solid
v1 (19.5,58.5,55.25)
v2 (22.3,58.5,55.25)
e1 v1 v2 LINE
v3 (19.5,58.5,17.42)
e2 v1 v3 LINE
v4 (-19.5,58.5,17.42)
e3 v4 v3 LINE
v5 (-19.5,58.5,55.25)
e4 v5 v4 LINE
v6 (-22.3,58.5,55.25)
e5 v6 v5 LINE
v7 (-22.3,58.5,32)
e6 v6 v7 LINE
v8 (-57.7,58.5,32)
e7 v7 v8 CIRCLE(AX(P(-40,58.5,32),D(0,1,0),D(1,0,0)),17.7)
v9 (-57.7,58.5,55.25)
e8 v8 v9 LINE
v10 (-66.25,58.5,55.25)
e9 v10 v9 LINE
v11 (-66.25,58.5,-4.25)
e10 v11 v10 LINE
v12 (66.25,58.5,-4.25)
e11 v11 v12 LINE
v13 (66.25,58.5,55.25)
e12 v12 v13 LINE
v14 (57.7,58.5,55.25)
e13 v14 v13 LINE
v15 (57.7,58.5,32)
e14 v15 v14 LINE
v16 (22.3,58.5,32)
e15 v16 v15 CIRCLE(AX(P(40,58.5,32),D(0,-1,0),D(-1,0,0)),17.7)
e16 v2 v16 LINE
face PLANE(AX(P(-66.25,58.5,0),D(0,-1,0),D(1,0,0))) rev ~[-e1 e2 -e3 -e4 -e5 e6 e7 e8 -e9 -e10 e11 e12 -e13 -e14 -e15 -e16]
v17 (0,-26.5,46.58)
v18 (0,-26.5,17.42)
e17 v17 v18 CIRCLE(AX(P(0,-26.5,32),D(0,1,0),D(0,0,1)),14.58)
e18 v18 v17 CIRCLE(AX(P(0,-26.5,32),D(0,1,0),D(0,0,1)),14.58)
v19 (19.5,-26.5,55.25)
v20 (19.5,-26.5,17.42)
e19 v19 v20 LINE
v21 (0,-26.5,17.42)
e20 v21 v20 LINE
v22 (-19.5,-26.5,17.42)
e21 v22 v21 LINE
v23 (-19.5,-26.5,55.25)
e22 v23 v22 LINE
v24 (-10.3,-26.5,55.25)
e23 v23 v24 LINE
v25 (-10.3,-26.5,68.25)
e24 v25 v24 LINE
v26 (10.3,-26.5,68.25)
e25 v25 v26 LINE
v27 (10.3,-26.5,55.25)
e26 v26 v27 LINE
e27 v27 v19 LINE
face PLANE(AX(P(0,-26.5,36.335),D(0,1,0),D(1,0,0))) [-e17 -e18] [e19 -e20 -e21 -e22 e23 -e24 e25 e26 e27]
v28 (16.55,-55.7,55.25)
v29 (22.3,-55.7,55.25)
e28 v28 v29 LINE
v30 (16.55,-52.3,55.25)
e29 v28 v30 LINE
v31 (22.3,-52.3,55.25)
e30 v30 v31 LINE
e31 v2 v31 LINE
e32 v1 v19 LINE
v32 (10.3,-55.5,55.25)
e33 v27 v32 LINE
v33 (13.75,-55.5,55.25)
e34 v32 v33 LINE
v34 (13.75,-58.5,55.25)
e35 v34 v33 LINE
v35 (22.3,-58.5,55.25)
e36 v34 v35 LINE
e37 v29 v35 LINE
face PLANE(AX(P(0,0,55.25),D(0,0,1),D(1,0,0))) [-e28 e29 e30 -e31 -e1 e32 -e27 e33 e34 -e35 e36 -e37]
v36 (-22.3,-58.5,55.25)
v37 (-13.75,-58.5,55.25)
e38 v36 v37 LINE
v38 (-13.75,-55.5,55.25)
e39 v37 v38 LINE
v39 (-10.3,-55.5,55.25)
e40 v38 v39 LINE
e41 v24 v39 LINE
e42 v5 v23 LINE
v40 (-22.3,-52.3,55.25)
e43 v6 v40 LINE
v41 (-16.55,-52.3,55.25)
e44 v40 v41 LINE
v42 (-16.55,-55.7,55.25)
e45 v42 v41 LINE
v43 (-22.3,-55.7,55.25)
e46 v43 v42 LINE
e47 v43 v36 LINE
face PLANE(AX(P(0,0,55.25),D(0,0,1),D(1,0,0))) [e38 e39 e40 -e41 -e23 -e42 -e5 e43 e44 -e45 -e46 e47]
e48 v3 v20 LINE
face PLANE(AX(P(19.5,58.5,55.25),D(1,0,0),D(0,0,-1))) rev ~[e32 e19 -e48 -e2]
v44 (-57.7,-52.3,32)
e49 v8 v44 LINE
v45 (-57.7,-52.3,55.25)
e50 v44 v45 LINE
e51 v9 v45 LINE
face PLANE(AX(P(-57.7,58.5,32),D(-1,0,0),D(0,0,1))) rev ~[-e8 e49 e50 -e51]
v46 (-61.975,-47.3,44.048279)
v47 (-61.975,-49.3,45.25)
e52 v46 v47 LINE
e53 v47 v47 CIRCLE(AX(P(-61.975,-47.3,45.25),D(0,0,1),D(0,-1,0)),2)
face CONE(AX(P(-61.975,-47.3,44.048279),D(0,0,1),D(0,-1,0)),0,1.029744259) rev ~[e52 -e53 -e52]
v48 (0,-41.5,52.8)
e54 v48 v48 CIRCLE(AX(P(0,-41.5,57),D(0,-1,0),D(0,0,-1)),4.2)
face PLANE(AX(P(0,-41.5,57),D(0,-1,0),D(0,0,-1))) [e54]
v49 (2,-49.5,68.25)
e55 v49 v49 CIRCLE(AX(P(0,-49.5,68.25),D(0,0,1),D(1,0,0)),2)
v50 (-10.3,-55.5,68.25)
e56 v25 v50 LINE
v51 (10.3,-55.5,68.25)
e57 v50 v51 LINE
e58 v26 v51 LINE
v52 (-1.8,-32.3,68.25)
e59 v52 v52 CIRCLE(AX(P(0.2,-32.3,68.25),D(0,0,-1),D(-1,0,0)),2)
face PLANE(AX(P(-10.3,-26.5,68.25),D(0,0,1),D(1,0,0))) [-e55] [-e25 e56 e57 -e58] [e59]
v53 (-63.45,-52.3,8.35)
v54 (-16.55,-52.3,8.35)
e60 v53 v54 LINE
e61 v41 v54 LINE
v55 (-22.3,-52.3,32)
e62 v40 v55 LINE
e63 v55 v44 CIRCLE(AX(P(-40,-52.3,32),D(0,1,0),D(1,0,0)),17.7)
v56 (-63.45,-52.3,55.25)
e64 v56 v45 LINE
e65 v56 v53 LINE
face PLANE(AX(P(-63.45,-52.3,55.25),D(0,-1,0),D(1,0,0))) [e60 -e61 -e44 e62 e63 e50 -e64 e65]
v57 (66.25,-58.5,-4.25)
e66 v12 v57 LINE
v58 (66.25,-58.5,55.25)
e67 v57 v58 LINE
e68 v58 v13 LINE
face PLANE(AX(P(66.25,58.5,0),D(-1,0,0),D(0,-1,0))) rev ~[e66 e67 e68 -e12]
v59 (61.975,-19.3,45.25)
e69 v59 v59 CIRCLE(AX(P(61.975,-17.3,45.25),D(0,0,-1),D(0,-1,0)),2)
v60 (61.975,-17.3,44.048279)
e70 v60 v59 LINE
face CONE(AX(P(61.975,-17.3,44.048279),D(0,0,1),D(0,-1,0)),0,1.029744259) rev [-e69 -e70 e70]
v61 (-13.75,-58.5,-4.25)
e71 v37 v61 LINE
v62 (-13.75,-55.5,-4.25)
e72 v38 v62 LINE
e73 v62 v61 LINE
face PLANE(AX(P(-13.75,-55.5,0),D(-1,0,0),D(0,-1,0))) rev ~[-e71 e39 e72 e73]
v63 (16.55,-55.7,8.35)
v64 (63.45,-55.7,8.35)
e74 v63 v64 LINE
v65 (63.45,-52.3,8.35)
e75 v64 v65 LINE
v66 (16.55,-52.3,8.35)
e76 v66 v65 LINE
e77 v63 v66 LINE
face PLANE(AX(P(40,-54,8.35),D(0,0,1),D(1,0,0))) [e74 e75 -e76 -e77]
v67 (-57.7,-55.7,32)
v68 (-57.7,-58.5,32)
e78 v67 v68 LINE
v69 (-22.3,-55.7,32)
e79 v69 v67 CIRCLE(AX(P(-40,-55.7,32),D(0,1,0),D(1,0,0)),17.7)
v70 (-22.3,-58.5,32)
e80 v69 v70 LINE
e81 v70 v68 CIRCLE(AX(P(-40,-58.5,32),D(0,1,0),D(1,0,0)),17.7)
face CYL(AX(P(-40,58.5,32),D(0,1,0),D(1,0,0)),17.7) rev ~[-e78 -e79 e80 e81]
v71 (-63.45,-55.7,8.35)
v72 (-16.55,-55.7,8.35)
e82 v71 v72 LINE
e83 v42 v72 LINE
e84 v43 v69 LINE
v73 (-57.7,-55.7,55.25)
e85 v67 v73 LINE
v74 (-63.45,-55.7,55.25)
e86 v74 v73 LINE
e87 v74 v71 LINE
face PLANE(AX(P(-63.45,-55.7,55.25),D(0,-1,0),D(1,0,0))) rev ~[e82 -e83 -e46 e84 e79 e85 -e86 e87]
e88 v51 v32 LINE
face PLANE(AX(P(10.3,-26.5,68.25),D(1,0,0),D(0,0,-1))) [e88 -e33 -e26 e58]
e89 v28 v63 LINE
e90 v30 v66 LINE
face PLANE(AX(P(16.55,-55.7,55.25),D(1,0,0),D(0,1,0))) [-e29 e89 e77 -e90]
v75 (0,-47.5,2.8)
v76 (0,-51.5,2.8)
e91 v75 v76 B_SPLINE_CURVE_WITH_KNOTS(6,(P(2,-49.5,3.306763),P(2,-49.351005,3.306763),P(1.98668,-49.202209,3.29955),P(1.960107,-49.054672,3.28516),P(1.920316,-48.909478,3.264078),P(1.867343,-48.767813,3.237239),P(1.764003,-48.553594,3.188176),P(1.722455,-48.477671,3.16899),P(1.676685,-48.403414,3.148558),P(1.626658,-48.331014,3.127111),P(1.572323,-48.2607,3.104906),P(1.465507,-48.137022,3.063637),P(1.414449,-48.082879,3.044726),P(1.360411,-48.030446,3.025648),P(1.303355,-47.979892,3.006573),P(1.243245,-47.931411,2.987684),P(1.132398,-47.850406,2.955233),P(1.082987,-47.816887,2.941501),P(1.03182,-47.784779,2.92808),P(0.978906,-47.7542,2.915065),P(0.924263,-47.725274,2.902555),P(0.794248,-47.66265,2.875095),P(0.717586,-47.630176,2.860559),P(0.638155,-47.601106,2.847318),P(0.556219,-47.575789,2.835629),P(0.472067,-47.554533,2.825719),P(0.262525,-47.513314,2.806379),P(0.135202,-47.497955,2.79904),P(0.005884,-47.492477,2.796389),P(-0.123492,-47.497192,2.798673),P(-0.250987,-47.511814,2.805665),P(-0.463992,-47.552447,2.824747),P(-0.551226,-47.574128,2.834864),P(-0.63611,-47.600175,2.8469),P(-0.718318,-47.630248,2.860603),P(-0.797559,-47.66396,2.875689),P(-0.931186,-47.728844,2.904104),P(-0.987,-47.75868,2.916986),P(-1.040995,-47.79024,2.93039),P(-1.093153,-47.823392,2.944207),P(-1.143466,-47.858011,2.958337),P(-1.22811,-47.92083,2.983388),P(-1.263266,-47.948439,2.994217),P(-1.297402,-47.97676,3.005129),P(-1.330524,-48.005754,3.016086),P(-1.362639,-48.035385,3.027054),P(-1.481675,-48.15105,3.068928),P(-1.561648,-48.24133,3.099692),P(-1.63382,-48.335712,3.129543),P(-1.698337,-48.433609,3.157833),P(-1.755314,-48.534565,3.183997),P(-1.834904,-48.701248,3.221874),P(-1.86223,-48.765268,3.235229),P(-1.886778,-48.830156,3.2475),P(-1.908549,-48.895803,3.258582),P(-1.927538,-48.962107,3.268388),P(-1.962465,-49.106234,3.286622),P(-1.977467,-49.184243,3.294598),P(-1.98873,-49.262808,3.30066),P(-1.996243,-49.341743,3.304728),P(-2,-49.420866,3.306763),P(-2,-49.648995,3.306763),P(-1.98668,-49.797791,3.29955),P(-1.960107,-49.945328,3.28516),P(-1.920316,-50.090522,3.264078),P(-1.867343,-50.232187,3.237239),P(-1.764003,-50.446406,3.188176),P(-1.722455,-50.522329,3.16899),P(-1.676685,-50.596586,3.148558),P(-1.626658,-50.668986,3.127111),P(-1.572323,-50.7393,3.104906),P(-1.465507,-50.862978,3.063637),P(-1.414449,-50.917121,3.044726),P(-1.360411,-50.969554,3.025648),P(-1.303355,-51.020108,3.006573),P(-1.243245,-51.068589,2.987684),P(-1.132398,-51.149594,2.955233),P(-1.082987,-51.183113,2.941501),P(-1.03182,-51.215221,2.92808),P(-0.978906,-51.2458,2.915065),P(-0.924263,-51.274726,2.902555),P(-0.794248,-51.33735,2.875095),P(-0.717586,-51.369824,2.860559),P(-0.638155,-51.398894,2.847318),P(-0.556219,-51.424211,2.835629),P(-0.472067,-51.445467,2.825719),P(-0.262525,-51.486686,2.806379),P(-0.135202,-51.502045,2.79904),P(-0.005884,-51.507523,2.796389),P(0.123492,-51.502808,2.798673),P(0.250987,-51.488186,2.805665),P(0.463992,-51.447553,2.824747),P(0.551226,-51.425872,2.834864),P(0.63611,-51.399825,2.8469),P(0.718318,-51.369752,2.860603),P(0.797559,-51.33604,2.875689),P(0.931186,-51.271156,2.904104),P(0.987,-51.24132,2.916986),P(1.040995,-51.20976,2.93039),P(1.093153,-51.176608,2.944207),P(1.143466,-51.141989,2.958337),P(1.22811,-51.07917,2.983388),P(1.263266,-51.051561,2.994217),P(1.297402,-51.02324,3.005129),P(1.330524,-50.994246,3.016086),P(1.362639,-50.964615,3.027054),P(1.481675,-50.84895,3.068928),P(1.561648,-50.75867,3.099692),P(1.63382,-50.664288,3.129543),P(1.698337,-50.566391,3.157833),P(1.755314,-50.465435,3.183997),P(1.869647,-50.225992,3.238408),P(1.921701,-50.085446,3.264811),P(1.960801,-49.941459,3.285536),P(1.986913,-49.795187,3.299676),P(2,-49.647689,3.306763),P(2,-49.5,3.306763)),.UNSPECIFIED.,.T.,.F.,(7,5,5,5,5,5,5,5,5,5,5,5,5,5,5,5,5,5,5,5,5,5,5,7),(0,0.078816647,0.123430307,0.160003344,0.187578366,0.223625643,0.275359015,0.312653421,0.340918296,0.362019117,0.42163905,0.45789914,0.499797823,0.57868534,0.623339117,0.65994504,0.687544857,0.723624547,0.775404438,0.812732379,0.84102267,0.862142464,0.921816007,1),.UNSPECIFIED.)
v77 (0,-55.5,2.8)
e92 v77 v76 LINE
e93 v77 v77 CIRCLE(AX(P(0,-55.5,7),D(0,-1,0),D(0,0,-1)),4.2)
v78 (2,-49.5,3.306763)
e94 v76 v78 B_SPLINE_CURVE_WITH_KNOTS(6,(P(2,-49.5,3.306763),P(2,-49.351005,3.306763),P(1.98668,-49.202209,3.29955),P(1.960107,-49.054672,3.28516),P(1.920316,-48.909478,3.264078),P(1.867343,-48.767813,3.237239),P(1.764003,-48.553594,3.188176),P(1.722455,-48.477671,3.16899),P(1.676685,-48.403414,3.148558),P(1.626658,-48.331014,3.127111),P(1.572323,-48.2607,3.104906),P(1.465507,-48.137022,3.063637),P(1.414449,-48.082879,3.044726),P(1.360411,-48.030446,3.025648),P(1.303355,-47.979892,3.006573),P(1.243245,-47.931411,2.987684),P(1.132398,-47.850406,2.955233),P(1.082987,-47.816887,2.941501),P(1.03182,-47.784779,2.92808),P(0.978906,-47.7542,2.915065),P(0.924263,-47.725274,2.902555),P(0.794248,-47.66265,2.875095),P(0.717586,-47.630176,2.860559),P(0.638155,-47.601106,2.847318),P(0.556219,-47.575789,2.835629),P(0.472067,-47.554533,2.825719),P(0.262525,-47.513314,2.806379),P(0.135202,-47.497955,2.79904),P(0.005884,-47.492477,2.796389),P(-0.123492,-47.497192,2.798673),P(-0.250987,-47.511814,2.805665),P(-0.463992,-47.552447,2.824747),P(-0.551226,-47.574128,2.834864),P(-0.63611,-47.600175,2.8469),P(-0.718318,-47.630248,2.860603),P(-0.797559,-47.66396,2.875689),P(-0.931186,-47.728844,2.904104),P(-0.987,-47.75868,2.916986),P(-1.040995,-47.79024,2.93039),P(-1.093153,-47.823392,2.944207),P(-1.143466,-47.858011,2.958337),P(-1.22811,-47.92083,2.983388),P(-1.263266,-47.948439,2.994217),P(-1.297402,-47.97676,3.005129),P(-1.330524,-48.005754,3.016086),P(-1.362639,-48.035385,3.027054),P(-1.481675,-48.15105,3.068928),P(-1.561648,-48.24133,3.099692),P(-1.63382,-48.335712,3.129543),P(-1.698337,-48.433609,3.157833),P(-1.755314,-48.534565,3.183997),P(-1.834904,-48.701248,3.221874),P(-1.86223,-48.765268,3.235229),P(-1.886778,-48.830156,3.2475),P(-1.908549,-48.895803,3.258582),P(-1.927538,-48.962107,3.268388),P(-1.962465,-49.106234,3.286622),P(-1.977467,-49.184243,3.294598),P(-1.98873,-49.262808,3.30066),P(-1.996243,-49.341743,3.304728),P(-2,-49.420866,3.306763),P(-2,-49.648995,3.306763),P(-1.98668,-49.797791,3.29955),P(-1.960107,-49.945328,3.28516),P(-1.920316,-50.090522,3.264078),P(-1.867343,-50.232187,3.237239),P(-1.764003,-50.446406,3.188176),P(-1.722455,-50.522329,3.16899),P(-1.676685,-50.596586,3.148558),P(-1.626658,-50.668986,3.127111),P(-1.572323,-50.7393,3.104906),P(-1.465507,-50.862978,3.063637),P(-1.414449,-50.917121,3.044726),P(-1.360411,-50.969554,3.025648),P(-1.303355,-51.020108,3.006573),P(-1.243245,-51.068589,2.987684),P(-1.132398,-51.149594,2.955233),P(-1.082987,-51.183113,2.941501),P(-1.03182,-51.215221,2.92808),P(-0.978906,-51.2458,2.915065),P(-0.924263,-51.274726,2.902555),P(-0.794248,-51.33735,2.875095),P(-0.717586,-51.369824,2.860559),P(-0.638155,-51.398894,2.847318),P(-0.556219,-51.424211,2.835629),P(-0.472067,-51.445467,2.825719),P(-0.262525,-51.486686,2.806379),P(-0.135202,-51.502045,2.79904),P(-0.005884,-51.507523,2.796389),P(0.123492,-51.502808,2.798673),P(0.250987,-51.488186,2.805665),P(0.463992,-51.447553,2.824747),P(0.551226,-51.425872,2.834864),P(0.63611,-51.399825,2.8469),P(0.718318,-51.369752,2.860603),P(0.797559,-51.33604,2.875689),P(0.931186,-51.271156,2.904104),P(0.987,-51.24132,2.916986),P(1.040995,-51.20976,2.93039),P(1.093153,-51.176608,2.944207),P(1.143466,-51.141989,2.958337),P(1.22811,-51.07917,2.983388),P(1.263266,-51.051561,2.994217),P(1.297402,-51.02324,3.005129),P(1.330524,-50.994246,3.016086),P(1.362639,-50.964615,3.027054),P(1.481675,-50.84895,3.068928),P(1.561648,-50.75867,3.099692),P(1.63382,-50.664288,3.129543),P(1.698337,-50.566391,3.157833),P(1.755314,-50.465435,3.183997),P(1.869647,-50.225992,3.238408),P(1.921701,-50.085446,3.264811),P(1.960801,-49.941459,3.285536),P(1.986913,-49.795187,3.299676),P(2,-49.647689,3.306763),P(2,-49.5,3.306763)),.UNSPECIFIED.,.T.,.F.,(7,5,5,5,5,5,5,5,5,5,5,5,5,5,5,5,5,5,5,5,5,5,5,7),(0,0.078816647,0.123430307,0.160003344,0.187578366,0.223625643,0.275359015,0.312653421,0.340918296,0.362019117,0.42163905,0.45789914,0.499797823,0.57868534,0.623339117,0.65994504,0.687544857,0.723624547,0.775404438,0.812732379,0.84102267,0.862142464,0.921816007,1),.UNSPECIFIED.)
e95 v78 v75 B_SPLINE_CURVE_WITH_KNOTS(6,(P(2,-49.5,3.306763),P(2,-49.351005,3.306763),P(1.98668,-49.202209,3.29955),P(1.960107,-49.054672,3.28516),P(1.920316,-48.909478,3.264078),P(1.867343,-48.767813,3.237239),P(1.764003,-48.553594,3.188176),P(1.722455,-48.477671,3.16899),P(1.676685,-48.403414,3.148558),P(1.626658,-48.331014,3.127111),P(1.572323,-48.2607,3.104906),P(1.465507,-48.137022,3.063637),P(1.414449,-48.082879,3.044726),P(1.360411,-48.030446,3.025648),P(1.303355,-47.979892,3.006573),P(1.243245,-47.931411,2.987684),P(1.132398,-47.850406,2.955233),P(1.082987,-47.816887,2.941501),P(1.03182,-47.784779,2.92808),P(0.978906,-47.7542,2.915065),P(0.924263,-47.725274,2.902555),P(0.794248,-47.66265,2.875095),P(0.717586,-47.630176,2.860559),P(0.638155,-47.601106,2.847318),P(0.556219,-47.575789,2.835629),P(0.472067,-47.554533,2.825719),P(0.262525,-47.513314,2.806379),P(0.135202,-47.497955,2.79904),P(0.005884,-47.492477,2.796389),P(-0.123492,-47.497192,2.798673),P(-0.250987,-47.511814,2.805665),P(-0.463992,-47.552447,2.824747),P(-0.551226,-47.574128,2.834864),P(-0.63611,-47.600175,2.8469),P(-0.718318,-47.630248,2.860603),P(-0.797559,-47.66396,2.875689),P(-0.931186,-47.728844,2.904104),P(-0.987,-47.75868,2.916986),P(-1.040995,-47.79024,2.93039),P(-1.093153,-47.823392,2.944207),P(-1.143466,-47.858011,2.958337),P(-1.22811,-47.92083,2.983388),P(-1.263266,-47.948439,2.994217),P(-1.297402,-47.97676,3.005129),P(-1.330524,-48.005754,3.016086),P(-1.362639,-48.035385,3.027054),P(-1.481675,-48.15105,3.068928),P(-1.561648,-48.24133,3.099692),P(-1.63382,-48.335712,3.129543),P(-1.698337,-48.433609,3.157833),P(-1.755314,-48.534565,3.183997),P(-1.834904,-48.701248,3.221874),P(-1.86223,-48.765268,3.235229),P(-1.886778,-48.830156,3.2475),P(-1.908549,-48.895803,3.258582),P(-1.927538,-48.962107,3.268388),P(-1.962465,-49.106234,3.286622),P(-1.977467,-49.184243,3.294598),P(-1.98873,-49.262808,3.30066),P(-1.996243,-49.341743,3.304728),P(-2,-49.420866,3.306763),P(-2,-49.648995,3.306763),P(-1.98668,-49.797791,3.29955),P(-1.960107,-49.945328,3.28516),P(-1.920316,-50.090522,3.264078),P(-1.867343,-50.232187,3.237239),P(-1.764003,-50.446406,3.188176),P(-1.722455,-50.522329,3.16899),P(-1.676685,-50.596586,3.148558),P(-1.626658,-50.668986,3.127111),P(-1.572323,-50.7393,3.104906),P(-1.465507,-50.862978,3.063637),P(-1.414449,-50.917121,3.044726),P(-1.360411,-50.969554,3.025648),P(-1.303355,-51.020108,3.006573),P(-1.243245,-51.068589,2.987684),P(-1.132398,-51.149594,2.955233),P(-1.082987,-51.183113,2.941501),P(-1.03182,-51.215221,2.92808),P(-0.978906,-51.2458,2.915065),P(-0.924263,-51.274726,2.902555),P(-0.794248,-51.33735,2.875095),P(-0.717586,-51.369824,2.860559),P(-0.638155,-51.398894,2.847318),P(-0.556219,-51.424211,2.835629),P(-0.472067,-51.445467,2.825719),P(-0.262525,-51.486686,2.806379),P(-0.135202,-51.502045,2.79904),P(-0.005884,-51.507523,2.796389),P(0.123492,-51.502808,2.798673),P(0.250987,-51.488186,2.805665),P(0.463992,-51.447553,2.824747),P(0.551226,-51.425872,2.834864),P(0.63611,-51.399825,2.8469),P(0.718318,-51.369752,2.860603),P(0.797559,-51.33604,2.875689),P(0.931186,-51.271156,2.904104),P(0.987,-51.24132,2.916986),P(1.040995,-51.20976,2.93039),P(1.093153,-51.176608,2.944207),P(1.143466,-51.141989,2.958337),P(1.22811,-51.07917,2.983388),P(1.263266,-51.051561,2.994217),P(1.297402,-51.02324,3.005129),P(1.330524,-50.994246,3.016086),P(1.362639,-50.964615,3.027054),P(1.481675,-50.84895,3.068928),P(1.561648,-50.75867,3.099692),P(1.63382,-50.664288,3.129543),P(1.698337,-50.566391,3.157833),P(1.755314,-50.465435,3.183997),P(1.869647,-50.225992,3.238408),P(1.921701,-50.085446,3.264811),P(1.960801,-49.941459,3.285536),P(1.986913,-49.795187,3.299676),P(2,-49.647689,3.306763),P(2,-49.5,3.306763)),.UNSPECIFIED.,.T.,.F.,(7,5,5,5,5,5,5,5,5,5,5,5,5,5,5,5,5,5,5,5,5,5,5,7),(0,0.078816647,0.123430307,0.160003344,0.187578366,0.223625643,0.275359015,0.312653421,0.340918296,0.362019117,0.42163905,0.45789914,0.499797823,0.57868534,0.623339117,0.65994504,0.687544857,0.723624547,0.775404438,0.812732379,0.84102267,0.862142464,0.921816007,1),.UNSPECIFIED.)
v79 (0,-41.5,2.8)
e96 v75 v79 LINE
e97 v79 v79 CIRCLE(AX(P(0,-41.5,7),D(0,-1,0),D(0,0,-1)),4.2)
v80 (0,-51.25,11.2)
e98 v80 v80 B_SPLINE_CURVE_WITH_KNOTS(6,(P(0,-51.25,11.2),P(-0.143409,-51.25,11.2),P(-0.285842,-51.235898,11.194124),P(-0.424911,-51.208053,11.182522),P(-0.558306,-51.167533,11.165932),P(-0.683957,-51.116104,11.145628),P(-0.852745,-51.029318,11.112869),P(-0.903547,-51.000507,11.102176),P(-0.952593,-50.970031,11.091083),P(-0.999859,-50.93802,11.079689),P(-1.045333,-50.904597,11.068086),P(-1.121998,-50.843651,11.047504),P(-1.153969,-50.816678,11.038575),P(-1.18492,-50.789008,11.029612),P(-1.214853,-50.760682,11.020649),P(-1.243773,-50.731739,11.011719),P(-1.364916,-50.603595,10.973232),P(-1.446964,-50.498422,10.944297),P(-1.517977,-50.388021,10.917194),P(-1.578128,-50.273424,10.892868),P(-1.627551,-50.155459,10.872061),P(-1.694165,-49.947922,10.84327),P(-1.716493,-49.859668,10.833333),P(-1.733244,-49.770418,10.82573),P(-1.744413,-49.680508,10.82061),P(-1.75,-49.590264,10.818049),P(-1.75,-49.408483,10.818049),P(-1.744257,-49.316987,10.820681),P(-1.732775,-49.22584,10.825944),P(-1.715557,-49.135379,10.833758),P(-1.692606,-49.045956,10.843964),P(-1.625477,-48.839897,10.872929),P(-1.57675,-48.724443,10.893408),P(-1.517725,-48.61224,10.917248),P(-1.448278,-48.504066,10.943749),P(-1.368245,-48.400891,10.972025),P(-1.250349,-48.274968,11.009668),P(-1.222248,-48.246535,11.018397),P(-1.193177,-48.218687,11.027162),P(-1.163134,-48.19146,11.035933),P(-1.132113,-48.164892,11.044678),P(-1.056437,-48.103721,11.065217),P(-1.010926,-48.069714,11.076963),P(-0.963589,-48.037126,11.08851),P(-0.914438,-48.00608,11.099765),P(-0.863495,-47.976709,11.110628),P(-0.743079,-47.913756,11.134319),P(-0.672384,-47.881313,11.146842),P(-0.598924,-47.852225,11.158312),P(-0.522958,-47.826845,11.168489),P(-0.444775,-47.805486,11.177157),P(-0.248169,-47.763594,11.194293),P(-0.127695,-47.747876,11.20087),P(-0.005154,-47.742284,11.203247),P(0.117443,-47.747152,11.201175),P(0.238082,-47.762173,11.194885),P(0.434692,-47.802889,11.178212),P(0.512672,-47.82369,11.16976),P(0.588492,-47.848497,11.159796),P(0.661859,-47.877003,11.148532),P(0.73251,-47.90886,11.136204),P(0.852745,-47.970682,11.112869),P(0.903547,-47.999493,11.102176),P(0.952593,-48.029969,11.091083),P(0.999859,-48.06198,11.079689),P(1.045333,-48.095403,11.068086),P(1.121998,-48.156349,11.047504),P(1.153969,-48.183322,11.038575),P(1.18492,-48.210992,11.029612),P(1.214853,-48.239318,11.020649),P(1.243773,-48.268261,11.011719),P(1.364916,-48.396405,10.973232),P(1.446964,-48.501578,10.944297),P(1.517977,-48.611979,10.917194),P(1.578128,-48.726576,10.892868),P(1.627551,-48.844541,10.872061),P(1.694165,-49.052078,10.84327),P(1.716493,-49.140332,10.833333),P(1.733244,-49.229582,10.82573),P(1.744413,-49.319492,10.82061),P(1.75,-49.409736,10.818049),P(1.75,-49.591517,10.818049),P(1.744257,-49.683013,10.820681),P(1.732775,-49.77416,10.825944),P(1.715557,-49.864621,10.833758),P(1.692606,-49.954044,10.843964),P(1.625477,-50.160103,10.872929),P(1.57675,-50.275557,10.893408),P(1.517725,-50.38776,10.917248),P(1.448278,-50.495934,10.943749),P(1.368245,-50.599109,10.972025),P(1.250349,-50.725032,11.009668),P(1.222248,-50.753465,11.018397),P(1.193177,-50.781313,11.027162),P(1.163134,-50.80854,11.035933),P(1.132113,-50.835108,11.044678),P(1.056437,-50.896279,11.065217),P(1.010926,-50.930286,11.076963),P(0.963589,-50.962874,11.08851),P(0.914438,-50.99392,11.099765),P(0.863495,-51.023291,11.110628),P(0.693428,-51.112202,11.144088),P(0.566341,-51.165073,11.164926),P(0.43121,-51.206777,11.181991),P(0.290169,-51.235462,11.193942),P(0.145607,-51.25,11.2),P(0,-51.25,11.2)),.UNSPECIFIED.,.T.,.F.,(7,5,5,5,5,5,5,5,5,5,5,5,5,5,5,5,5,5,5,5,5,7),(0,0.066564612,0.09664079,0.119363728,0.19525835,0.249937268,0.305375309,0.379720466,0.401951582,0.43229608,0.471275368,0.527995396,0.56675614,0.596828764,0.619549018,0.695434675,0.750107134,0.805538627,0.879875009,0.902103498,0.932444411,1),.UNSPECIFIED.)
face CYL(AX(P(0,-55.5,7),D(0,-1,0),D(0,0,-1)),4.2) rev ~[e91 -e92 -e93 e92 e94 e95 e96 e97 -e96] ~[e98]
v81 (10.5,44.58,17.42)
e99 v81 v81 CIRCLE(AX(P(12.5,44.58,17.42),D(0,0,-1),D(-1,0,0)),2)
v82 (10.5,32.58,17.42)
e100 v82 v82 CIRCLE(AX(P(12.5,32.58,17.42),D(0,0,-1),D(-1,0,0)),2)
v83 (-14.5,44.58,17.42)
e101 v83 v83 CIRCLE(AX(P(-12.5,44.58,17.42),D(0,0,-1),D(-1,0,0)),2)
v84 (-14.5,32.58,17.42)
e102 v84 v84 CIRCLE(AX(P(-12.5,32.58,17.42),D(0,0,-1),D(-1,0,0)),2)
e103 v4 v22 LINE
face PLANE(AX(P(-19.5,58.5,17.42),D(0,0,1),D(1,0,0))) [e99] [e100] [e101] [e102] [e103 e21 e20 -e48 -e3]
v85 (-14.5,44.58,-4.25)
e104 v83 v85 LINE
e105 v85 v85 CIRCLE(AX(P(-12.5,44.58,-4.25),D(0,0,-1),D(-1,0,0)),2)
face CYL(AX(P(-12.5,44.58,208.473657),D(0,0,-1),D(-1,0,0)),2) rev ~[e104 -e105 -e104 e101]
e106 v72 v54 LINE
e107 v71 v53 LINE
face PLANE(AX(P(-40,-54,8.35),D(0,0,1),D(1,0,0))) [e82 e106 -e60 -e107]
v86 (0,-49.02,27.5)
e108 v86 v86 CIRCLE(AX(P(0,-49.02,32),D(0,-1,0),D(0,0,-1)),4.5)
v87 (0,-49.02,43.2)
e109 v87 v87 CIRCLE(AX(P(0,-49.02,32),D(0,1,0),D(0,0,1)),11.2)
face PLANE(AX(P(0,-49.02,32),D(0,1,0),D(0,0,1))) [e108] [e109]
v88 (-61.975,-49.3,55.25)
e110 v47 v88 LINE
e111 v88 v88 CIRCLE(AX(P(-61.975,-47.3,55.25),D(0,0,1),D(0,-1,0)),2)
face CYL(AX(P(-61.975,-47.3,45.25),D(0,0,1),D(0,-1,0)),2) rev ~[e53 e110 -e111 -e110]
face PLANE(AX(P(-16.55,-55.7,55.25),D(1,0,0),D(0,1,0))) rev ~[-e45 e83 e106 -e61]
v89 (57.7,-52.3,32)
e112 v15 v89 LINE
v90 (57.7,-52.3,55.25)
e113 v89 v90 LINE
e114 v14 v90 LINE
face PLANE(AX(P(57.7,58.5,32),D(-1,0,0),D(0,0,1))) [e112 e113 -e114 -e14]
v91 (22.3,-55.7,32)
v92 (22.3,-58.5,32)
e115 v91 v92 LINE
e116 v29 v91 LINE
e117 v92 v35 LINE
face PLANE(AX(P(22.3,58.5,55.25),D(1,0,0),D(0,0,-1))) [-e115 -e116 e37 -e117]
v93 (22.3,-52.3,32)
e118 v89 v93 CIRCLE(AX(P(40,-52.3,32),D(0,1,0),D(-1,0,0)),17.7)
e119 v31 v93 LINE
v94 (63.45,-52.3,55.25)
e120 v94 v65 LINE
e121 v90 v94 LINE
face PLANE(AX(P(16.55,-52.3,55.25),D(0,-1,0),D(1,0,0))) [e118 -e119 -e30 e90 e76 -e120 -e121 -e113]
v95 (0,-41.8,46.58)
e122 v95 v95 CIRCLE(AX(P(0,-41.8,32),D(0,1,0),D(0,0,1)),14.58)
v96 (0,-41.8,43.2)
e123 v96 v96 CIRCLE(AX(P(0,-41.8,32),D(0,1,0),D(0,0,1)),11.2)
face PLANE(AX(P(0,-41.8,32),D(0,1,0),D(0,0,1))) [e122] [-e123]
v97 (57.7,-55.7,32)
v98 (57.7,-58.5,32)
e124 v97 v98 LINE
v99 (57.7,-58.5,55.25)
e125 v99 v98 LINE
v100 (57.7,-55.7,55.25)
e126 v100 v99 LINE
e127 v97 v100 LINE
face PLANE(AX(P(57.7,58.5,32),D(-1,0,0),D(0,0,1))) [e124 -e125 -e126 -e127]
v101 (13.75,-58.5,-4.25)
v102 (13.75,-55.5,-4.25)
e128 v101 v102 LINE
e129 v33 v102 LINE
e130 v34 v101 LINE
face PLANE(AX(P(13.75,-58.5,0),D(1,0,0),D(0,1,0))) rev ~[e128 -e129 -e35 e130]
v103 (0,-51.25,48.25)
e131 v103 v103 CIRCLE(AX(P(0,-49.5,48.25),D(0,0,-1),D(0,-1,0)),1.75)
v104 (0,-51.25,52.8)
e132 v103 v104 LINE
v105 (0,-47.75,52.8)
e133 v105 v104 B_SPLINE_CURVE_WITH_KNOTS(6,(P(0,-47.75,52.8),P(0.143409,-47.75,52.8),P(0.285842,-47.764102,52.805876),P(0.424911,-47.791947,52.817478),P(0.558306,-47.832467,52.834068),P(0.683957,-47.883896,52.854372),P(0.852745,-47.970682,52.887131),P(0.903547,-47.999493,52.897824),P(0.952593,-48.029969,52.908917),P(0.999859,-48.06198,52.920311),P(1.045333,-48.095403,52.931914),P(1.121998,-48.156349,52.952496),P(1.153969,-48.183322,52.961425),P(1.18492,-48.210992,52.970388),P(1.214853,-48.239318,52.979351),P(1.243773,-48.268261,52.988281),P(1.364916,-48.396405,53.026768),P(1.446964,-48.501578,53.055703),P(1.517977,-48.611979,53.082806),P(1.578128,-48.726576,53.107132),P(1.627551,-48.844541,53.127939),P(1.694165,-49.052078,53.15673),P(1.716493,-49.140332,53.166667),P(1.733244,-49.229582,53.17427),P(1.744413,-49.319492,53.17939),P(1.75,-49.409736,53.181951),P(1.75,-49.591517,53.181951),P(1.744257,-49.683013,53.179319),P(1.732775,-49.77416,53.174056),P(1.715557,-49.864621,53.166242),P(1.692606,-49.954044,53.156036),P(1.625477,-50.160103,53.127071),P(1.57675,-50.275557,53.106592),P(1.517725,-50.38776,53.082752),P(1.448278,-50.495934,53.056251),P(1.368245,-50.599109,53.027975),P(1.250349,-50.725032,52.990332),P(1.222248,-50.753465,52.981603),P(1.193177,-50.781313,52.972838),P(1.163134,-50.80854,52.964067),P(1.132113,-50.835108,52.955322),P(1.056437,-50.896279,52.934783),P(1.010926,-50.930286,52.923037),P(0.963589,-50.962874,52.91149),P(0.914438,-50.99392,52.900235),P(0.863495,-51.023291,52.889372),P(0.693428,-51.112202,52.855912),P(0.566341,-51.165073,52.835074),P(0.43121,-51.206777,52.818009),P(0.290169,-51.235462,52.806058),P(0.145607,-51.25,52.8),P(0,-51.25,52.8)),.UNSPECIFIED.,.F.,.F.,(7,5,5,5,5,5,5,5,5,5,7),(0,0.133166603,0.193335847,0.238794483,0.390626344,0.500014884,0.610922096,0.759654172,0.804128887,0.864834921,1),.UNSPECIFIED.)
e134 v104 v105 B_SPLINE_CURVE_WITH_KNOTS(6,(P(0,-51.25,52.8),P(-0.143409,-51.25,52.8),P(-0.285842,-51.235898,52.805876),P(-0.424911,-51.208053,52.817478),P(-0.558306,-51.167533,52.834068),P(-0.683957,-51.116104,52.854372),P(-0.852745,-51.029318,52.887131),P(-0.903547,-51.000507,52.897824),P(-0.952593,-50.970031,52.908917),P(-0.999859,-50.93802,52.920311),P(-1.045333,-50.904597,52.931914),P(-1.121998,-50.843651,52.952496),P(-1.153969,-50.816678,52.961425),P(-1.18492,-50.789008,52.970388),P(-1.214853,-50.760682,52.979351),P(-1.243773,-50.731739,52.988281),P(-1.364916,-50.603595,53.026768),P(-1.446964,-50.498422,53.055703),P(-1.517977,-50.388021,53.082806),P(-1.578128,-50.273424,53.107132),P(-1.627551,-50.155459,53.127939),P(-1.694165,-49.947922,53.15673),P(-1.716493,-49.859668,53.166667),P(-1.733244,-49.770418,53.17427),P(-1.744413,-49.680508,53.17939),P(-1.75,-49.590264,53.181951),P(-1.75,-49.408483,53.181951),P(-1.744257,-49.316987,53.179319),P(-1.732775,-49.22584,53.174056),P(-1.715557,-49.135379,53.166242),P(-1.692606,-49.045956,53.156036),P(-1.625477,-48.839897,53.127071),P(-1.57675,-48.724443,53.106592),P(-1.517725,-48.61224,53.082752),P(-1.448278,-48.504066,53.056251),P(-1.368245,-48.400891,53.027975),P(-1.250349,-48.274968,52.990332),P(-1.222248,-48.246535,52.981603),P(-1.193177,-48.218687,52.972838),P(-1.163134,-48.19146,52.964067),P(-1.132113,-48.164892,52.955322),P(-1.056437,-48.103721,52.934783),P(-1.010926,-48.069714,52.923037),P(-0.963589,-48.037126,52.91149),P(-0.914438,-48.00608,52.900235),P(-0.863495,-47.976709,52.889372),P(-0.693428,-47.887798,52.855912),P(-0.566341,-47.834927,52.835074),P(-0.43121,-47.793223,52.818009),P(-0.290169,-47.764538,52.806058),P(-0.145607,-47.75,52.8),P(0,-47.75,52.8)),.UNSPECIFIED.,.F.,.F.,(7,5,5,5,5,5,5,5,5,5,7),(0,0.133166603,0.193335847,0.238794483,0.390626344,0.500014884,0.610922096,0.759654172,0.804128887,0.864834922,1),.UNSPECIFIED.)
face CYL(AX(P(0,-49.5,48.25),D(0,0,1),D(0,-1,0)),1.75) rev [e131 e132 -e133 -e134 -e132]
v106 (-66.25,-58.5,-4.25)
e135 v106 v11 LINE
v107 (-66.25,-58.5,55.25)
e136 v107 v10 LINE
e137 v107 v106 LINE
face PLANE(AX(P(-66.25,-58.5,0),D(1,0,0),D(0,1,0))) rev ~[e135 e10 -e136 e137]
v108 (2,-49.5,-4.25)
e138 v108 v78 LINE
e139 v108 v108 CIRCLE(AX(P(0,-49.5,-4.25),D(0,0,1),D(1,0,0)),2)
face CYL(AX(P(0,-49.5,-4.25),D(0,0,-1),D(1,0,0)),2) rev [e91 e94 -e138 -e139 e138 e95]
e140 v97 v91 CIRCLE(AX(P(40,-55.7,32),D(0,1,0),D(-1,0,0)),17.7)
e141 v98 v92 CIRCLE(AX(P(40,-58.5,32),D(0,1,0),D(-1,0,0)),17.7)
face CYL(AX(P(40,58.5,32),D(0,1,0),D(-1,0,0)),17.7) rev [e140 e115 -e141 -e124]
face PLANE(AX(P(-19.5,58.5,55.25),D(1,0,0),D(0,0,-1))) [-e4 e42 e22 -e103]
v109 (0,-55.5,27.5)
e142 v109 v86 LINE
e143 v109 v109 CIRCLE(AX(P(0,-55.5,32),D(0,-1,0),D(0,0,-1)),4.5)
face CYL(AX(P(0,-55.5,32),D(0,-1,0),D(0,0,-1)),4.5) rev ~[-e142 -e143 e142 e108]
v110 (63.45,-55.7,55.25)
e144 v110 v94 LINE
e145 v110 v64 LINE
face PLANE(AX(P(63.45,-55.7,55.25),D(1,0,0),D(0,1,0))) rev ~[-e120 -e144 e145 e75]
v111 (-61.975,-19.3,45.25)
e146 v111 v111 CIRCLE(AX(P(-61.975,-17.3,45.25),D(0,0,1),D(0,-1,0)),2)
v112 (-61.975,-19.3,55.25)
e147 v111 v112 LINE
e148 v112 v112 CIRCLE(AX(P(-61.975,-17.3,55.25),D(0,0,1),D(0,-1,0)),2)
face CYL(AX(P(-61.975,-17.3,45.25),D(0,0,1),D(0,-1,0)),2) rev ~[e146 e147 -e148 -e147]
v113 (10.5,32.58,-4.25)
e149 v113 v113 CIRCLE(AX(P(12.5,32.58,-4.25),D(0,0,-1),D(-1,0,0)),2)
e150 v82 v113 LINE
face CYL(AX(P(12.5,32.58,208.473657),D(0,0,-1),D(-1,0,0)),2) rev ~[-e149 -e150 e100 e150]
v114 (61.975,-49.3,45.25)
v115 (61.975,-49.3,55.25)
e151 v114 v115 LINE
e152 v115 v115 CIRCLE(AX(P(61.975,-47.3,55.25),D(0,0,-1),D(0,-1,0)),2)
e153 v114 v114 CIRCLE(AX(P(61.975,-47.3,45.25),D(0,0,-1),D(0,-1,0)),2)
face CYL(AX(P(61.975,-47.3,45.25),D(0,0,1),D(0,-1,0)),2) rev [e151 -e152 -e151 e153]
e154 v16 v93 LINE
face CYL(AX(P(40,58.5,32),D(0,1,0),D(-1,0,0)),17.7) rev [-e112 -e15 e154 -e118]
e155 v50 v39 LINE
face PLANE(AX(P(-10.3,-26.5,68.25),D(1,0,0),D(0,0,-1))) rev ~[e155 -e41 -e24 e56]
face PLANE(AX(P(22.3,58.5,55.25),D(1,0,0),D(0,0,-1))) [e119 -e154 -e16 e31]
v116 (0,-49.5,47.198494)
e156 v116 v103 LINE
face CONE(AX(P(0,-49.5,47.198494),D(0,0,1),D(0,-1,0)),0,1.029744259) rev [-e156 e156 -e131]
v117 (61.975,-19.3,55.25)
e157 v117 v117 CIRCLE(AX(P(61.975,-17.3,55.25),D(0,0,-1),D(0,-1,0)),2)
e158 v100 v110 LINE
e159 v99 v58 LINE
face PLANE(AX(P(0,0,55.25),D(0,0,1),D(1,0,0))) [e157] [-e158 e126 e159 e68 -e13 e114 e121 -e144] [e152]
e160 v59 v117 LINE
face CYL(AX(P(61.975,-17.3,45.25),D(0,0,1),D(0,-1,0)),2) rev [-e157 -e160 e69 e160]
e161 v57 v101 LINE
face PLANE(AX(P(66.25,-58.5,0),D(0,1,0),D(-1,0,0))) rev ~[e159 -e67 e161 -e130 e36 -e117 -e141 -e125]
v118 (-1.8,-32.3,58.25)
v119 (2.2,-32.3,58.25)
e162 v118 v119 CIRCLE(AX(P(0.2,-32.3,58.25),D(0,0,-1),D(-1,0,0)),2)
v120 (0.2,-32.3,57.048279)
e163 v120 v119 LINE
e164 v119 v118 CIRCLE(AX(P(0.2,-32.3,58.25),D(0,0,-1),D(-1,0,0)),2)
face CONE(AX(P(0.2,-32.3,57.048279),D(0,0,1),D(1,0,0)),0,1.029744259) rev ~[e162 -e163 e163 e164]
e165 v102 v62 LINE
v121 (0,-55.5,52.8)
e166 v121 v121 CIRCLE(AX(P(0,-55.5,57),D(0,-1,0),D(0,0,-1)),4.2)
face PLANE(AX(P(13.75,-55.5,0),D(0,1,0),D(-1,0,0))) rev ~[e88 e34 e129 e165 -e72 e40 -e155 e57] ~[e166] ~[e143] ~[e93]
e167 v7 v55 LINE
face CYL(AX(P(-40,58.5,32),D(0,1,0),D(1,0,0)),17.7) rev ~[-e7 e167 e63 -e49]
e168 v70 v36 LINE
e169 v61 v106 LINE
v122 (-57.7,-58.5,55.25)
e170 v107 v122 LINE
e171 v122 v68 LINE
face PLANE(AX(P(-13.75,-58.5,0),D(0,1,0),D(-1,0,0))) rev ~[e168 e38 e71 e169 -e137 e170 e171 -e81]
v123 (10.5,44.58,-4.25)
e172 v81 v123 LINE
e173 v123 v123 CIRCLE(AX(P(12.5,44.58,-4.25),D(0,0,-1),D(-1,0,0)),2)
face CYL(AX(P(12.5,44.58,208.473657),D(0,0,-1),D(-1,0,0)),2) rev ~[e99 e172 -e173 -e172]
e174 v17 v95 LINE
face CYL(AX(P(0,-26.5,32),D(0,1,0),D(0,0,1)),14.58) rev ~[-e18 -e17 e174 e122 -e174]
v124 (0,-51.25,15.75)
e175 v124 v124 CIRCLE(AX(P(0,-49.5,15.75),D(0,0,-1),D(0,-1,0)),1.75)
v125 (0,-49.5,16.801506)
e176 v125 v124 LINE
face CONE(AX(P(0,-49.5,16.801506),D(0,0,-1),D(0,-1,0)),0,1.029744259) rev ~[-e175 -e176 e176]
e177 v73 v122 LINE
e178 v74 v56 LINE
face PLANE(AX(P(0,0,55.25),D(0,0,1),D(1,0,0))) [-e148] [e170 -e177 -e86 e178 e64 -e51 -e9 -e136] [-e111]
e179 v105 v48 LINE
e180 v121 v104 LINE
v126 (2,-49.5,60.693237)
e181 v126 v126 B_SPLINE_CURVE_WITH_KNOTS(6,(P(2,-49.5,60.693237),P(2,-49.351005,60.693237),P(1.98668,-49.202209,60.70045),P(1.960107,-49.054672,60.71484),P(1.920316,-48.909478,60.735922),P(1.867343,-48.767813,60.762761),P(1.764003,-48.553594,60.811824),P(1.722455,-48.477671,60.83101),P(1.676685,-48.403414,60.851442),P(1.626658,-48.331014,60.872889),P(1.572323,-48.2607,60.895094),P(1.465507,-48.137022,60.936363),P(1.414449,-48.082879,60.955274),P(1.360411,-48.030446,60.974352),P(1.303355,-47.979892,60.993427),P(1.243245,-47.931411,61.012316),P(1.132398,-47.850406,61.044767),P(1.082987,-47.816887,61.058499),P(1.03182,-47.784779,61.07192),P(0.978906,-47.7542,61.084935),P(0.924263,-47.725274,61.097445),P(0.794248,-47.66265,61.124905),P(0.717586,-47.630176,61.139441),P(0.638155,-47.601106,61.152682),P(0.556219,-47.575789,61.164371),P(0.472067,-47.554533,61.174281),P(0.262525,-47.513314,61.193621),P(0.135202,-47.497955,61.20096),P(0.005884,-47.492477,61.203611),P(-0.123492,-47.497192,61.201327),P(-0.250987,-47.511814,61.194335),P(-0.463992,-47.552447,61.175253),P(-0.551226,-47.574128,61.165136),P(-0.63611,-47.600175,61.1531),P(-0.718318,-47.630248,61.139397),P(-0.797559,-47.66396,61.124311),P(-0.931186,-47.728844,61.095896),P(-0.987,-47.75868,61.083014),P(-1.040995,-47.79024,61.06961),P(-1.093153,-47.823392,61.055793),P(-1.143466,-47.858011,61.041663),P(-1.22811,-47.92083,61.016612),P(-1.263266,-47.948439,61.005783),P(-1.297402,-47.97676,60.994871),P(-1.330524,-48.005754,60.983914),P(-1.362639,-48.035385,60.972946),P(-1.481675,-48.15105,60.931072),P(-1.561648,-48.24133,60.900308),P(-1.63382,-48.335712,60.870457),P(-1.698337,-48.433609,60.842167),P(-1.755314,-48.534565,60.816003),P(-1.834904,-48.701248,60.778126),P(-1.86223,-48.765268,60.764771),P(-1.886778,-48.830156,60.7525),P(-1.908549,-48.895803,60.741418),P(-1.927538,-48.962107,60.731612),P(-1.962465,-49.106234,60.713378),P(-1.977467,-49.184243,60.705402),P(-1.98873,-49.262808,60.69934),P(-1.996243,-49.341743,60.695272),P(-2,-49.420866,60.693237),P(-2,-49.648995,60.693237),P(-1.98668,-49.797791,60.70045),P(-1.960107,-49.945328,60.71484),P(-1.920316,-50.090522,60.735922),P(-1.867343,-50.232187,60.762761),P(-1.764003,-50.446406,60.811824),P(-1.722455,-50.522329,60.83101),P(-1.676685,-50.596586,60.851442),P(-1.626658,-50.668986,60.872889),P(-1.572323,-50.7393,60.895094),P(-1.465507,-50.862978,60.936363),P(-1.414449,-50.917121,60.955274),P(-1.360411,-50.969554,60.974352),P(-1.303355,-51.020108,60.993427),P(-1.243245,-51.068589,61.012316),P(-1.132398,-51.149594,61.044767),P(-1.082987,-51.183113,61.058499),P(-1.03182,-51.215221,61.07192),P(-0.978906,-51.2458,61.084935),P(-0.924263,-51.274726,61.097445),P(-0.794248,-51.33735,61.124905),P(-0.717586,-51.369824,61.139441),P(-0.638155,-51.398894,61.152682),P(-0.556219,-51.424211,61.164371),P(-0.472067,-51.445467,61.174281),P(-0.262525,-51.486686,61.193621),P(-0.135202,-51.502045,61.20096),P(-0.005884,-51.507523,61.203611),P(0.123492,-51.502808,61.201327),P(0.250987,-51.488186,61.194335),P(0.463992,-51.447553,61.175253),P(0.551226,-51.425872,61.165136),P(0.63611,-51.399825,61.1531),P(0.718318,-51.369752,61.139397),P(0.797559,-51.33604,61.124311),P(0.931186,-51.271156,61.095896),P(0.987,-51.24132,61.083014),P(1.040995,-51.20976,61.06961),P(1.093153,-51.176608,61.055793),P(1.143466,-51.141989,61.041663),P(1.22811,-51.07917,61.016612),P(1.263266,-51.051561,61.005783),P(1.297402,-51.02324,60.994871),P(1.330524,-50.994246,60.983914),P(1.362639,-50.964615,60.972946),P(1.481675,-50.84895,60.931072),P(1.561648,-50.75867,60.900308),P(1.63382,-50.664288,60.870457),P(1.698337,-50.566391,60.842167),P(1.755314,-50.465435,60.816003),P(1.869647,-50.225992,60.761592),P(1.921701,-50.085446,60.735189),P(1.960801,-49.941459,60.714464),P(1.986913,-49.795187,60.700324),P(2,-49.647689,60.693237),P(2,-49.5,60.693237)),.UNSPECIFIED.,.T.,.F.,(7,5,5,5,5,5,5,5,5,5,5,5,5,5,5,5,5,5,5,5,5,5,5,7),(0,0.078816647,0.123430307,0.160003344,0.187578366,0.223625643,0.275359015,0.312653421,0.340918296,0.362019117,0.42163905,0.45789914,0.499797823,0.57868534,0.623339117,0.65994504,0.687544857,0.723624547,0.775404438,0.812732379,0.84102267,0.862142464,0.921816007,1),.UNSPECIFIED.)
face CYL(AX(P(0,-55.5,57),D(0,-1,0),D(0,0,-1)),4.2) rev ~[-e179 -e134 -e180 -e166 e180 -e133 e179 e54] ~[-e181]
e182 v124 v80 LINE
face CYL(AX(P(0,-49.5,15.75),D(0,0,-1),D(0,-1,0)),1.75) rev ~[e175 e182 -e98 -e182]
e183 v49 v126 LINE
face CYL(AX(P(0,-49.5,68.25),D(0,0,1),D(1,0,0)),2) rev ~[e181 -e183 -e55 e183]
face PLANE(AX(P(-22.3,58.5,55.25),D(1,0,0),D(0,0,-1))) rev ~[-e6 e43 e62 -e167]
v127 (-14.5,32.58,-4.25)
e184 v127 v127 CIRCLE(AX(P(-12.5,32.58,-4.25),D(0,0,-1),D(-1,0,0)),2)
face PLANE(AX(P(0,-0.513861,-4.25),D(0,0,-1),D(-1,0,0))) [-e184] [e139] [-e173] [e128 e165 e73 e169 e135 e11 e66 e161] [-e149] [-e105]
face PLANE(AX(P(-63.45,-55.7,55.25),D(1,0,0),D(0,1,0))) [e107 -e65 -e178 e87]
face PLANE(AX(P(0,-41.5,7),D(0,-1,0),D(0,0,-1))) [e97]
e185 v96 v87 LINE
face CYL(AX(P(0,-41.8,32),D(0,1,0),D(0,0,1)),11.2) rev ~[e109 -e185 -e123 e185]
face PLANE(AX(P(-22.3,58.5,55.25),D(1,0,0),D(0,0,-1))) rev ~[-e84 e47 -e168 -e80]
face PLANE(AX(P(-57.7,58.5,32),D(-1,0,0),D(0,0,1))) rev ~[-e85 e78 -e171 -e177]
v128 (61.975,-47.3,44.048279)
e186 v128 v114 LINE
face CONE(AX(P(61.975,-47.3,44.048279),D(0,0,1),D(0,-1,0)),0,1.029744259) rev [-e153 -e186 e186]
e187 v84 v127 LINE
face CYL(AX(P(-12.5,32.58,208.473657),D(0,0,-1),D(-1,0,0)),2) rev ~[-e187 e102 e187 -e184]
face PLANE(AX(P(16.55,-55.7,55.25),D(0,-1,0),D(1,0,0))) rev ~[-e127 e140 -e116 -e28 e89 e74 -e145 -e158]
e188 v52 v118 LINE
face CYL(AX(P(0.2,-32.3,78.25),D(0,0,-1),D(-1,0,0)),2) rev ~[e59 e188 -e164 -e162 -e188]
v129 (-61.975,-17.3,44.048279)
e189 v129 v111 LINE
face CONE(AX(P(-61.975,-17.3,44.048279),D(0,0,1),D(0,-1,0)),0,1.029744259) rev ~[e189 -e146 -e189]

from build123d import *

# Parameters (mm, degrees)
SKETCH1_W                        = 132.5
SKETCH1_H                        = 117
BOSS_EXTRUDE1_DEPTH              = 55.25
CUT_EXTRUDE1_REACH               = 147.364
SKETCH3_W                        = 39
SKETCH3_H                        = 37.83
CUT_EXTRUDE2_DEPTH               = 85
SKETCH4_W                        = 20.6
SKETCH4_H                        = 13
BOSS_EXTRUDE2_DEPTH              = 32
SKETCH5_W                        = 27.5
SKETCH5_H                        = 68.25
CUT_EXTRUDE3_DEPTH               = 3
SKETCH6_W                        = 46.9
SKETCH6_H                        = 3.4
CUT_EXTRUDE4_DEPTH               = 46.9
SKETCH8_R                        = 4.2
SKETCH8_R_2                      = 4.5
CUT_EXTRUDE5_DEPTH               = 14
SKETCH9_R                        = 14.58
CUT_EXTRUDE6_DEPTH               = 15.3
SKETCH10_R                       = 11.2
CUT_EXTRUDE7_DEPTH               = 7.22
BOSS_EXTRUDE3_DEPTH              = 4.25
CUT_EXTRUDE8_REACH               = 116.313
CUT_EXTRUDE8_END_RADIUS          = 4.2
SKETCH15_R                       = 2
F_4_0_MM_DOWEL_HOLES1_D          = 4
F_4_0_MM_DOWEL_HOLES2_AT_2_COUNT = 2
F_4_0_MM_DOWEL_HOLES2_AT_2_PITCH = 30
F_4_0_MM_DOWEL_HOLES3_D          = 4
F_4_0_MM_DOWEL_HOLES3_DEPTH      = 10
F_4_0_MM_DOWEL_HOLES3_TIP        = 1.201721238


with BuildPart() as part:
    # Sketch1 → Boss-Extrude1 (new body)
    with BuildSketch(Plane.XY):
        Rectangle(SKETCH1_W, SKETCH1_H)
    extrude(amount=BOSS_EXTRUDE1_DEPTH)

    # Sketch2 → Cut-Extrude1 (cut, up to next)
    with BuildSketch(Plane(origin=(0, 58.5, 0), x_dir=(1, 0, 0), z_dir=(0, 1, 0)), mode=Mode.PRIVATE) as cut_extrude1_sk1:
        with BuildLine():
            Line((-57.7, -32), (-57.7, -55.25))
            Line((-57.7, -55.25), (-22.3, -55.25))
            Line((-22.3, -55.25), (-22.3, -32))
            ThreePointArc((-22.3, -32), (-40, -14.3), (-57.7, -32))
        make_face()
    cut_extrude1_tool1 = extrude(cut_extrude1_sk1.sketch, amount=-CUT_EXTRUDE1_REACH, mode=Mode.PRIVATE) & part.part
    # Sketch2 → Cut-Extrude1 (cut, up to next)
    with BuildSketch(Plane(origin=(0, 58.5, 0), x_dir=(1, 0, 0), z_dir=(0, 1, 0)), mode=Mode.PRIVATE) as cut_extrude1_sk2:
        with BuildLine():
            Line((57.7, -32), (57.7, -55.25))
            Line((57.7, -55.25), (22.3, -55.25))
            Line((22.3, -55.25), (22.3, -32))
            ThreePointArc((22.3, -32), (40, -14.3), (57.7, -32))
        make_face()
    cut_extrude1_tool2 = extrude(cut_extrude1_sk2.sketch, amount=-CUT_EXTRUDE1_REACH, mode=Mode.PRIVATE) & part.part
    add(cut_extrude1_tool1.solids().sort_by_distance((-40, 58.5, 36.464181))[0], mode=Mode.SUBTRACT)
    add(cut_extrude1_tool2.solids().sort_by_distance((40, 58.5, 36.464181))[0], mode=Mode.SUBTRACT)

    # Sketch3 → Cut-Extrude2 (cut)
    with BuildSketch(Plane(origin=(0, 58.5, 0), x_dir=(1, 0, 0), z_dir=(0, 1, 0))):
        with Locations((0, -36.335)):
            Rectangle(SKETCH3_W, SKETCH3_H)
    extrude(amount=-CUT_EXTRUDE2_DEPTH, mode=Mode.SUBTRACT)

    # Sketch4 → Boss-Extrude2 (add)
    with BuildSketch(Plane(origin=(0, -26.5, 0), x_dir=(1, 0, 0), z_dir=(0, 1, 0))):
        with Locations((0, -61.75)):
            Rectangle(SKETCH4_W, SKETCH4_H)
    extrude(amount=-BOSS_EXTRUDE2_DEPTH)

    # Sketch5 → Cut-Extrude3 (cut)
    with BuildSketch(Plane.XZ.offset(58.5)):
        with Locations((0, 34.125)):
            Rectangle(SKETCH5_W, SKETCH5_H)
    extrude(amount=-CUT_EXTRUDE3_DEPTH, mode=Mode.SUBTRACT)

    # Sketch6 → Cut-Extrude4 (cut)
    with BuildSketch(Plane.XY.offset(55.25)):
        with Locations((-40, -54)):
            Rectangle(SKETCH6_W, SKETCH6_H)
        with Locations((40, -54)):
            Rectangle(SKETCH6_W, SKETCH6_H)
    extrude(amount=-CUT_EXTRUDE4_DEPTH, mode=Mode.SUBTRACT)

    # Sketch8 → Cut-Extrude5 (cut)
    with BuildSketch(Plane.XZ.offset(55.5)):
        with Locations(Location((0, 7, 0), (0, 0, 270))):
            Circle(SKETCH8_R)
        with Locations(Location((0, 57, 0), (0, 0, 270))):
            Circle(SKETCH8_R)
        with Locations(Location((0, 32, 0), (0, 0, 270))):
            Circle(SKETCH8_R_2)
    extrude(amount=-CUT_EXTRUDE5_DEPTH, mode=Mode.SUBTRACT)

    # Sketch9 → Cut-Extrude6 (cut)
    with BuildSketch(Plane(origin=(0, -26.5, 0), x_dir=(1, 0, 0), z_dir=(0, 1, 0))):
        with Locations(Location((0, -32, 0), (0, 0, 270))):
            Circle(SKETCH9_R)
    extrude(amount=-CUT_EXTRUDE6_DEPTH, mode=Mode.SUBTRACT)

    # Sketch10 → Cut-Extrude7 (cut)
    with BuildSketch(Plane(origin=(0, -41.8, 0), x_dir=(1, 0, 0), z_dir=(0, 1, 0))):
        with Locations(Location((0, -32, 0), (0, 0, 270))):
            Circle(SKETCH10_R)
    extrude(amount=-CUT_EXTRUDE7_DEPTH, mode=Mode.SUBTRACT)

    # Sketch12 → Ø3.5 (3.5) Diameter Hole1 (revolve, cut)
    with BuildSketch(Plane(origin=(0, -49.5, 68.25), x_dir=(0, -1, 0), z_dir=(1, 0, 0))):
        Polygon((0, 0), (0, 21.051506083), (1.75, 20), (1.75, 0), align=None)
    f_3_5_3_5_diameter_hole1 = revolve(axis=Axis((0, -49.5, 74.6), (0, 0, -1)), mode=Mode.SUBTRACT)

    # Sketch14 → Boss-Extrude3 (add)
    with BuildSketch(Plane(origin=(0, 0, 0), x_dir=(-1, 0, 0), z_dir=(0, 0, -1))):
        Polygon((-66.25, -58.5), (-13.75, -58.5), (-13.75, -55.5), (13.75, -55.5), (13.75, -58.5), (66.25, -58.5), (66.25, 58.5), (-66.25, 58.5), align=None)
    extrude(amount=BOSS_EXTRUDE3_DEPTH)

    # Cut-Extrude8: up to this cylinder (the profile starts outside it)
    cut_extrude8_end = Plane(origin=(0, -49.5, 57), z_dir=(0, -1, 0)) * Cylinder(CUT_EXTRUDE8_END_RADIUS, 242.026, mode=Mode.PRIVATE)
    # Sketch15 → Cut-Extrude8 (cut, up to the surface)
    with BuildSketch(Plane.XY.offset(68.25), mode=Mode.PRIVATE) as cut_extrude8_sk1:
        with Locations((0, -49.5)):
            Circle(SKETCH15_R)
    cut_extrude8_tool1 = extrude(cut_extrude8_sk1.sketch, amount=-CUT_EXTRUDE8_REACH, mode=Mode.PRIVATE) - cut_extrude8_end
    cut_extrude8 = cut_extrude8_tool1.solids().sort_by_distance((0, -49.5, 68.25))[0]
    add(cut_extrude8, mode=Mode.SUBTRACT)

    # Mirror1: Ø3.5 (3.5) Diameter Hole1, Cut-Extrude8 across plane
    add(f_3_5_3_5_diameter_hole1.mirror(Plane.XY.offset(32)), mode=Mode.SUBTRACT)
    add(cut_extrude8.mirror(Plane.XY.offset(32)), mode=Mode.SUBTRACT)

    # Ø4.0 mm Dowel Holes1 (through all)
    with Locations(Plane.XY.offset(17.42)):
        with Locations((-12.5, 32.58), (12.5, 32.58), (12.5, 44.58), (-12.5, 44.58)):
            Hole(F_4_0_MM_DOWEL_HOLES1_D / 2)

    # Sketch19 → Ø4.0 mm Dowel Holes2 (revolve, cut)
    with BuildSketch(Plane(origin=(61.975, -47.3, 55.25), x_dir=(0, -1, 0), z_dir=(1, 0, 0))):
        Polygon((0, 0), (0, 11.201721238), (2, 10), (2, 0), align=None)
    f_4_0_mm_dowel_holes2 = revolve(axis=Axis((61.975, -47.3, 61.6), (0, 0, -1)), mode=Mode.SUBTRACT)

    # Ø4.0 mm Dowel Holes2 at 2: Ø4.0 mm Dowel Holes2 ×2
    with Locations(*[(0, i * F_4_0_MM_DOWEL_HOLES2_AT_2_PITCH, 0) for i in range(1, F_4_0_MM_DOWEL_HOLES2_AT_2_COUNT)]):
        add(f_4_0_mm_dowel_holes2, mode=Mode.SUBTRACT)

    # Mirror2: Ø4.0 mm Dowel Holes2 across plane
    add(f_4_0_mm_dowel_holes2.mirror(Plane(origin=(0, 0, 0), x_dir=(0, 0, 1), z_dir=(1, 0, 0))), mode=Mode.SUBTRACT)

    # Mirror2 copy 1 sketch → Mirror2 copy 1 (revolve, cut)
    with BuildSketch(Plane(origin=(-61.975, -17.3, 55.25), x_dir=(0, -1, 0), z_dir=(-1, 0, 0))):
        Polygon((0, 0), (0, -11.201721238), (2, -10), (2, 0), align=None)
    revolve(axis=Axis((-61.975, -17.3, 61.6), (0, 0, 1)), mode=Mode.SUBTRACT)

    # Ø4.0 mm Dowel Holes3
    with Locations(Plane.XY.offset(68.25)):
        with Locations((0.2, -32.3)):
            Hole(F_4_0_MM_DOWEL_HOLES3_D / 2, depth=F_4_0_MM_DOWEL_HOLES3_DEPTH)
            with Locations((0, 0, -(F_4_0_MM_DOWEL_HOLES3_DEPTH + F_4_0_MM_DOWEL_HOLES3_TIP / 2))):  # 118° drill point
                Cone(0, F_4_0_MM_DOWEL_HOLES3_D / 2, F_4_0_MM_DOWEL_HOLES3_TIP, mode=Mode.SUBTRACT)


solid = part.part
